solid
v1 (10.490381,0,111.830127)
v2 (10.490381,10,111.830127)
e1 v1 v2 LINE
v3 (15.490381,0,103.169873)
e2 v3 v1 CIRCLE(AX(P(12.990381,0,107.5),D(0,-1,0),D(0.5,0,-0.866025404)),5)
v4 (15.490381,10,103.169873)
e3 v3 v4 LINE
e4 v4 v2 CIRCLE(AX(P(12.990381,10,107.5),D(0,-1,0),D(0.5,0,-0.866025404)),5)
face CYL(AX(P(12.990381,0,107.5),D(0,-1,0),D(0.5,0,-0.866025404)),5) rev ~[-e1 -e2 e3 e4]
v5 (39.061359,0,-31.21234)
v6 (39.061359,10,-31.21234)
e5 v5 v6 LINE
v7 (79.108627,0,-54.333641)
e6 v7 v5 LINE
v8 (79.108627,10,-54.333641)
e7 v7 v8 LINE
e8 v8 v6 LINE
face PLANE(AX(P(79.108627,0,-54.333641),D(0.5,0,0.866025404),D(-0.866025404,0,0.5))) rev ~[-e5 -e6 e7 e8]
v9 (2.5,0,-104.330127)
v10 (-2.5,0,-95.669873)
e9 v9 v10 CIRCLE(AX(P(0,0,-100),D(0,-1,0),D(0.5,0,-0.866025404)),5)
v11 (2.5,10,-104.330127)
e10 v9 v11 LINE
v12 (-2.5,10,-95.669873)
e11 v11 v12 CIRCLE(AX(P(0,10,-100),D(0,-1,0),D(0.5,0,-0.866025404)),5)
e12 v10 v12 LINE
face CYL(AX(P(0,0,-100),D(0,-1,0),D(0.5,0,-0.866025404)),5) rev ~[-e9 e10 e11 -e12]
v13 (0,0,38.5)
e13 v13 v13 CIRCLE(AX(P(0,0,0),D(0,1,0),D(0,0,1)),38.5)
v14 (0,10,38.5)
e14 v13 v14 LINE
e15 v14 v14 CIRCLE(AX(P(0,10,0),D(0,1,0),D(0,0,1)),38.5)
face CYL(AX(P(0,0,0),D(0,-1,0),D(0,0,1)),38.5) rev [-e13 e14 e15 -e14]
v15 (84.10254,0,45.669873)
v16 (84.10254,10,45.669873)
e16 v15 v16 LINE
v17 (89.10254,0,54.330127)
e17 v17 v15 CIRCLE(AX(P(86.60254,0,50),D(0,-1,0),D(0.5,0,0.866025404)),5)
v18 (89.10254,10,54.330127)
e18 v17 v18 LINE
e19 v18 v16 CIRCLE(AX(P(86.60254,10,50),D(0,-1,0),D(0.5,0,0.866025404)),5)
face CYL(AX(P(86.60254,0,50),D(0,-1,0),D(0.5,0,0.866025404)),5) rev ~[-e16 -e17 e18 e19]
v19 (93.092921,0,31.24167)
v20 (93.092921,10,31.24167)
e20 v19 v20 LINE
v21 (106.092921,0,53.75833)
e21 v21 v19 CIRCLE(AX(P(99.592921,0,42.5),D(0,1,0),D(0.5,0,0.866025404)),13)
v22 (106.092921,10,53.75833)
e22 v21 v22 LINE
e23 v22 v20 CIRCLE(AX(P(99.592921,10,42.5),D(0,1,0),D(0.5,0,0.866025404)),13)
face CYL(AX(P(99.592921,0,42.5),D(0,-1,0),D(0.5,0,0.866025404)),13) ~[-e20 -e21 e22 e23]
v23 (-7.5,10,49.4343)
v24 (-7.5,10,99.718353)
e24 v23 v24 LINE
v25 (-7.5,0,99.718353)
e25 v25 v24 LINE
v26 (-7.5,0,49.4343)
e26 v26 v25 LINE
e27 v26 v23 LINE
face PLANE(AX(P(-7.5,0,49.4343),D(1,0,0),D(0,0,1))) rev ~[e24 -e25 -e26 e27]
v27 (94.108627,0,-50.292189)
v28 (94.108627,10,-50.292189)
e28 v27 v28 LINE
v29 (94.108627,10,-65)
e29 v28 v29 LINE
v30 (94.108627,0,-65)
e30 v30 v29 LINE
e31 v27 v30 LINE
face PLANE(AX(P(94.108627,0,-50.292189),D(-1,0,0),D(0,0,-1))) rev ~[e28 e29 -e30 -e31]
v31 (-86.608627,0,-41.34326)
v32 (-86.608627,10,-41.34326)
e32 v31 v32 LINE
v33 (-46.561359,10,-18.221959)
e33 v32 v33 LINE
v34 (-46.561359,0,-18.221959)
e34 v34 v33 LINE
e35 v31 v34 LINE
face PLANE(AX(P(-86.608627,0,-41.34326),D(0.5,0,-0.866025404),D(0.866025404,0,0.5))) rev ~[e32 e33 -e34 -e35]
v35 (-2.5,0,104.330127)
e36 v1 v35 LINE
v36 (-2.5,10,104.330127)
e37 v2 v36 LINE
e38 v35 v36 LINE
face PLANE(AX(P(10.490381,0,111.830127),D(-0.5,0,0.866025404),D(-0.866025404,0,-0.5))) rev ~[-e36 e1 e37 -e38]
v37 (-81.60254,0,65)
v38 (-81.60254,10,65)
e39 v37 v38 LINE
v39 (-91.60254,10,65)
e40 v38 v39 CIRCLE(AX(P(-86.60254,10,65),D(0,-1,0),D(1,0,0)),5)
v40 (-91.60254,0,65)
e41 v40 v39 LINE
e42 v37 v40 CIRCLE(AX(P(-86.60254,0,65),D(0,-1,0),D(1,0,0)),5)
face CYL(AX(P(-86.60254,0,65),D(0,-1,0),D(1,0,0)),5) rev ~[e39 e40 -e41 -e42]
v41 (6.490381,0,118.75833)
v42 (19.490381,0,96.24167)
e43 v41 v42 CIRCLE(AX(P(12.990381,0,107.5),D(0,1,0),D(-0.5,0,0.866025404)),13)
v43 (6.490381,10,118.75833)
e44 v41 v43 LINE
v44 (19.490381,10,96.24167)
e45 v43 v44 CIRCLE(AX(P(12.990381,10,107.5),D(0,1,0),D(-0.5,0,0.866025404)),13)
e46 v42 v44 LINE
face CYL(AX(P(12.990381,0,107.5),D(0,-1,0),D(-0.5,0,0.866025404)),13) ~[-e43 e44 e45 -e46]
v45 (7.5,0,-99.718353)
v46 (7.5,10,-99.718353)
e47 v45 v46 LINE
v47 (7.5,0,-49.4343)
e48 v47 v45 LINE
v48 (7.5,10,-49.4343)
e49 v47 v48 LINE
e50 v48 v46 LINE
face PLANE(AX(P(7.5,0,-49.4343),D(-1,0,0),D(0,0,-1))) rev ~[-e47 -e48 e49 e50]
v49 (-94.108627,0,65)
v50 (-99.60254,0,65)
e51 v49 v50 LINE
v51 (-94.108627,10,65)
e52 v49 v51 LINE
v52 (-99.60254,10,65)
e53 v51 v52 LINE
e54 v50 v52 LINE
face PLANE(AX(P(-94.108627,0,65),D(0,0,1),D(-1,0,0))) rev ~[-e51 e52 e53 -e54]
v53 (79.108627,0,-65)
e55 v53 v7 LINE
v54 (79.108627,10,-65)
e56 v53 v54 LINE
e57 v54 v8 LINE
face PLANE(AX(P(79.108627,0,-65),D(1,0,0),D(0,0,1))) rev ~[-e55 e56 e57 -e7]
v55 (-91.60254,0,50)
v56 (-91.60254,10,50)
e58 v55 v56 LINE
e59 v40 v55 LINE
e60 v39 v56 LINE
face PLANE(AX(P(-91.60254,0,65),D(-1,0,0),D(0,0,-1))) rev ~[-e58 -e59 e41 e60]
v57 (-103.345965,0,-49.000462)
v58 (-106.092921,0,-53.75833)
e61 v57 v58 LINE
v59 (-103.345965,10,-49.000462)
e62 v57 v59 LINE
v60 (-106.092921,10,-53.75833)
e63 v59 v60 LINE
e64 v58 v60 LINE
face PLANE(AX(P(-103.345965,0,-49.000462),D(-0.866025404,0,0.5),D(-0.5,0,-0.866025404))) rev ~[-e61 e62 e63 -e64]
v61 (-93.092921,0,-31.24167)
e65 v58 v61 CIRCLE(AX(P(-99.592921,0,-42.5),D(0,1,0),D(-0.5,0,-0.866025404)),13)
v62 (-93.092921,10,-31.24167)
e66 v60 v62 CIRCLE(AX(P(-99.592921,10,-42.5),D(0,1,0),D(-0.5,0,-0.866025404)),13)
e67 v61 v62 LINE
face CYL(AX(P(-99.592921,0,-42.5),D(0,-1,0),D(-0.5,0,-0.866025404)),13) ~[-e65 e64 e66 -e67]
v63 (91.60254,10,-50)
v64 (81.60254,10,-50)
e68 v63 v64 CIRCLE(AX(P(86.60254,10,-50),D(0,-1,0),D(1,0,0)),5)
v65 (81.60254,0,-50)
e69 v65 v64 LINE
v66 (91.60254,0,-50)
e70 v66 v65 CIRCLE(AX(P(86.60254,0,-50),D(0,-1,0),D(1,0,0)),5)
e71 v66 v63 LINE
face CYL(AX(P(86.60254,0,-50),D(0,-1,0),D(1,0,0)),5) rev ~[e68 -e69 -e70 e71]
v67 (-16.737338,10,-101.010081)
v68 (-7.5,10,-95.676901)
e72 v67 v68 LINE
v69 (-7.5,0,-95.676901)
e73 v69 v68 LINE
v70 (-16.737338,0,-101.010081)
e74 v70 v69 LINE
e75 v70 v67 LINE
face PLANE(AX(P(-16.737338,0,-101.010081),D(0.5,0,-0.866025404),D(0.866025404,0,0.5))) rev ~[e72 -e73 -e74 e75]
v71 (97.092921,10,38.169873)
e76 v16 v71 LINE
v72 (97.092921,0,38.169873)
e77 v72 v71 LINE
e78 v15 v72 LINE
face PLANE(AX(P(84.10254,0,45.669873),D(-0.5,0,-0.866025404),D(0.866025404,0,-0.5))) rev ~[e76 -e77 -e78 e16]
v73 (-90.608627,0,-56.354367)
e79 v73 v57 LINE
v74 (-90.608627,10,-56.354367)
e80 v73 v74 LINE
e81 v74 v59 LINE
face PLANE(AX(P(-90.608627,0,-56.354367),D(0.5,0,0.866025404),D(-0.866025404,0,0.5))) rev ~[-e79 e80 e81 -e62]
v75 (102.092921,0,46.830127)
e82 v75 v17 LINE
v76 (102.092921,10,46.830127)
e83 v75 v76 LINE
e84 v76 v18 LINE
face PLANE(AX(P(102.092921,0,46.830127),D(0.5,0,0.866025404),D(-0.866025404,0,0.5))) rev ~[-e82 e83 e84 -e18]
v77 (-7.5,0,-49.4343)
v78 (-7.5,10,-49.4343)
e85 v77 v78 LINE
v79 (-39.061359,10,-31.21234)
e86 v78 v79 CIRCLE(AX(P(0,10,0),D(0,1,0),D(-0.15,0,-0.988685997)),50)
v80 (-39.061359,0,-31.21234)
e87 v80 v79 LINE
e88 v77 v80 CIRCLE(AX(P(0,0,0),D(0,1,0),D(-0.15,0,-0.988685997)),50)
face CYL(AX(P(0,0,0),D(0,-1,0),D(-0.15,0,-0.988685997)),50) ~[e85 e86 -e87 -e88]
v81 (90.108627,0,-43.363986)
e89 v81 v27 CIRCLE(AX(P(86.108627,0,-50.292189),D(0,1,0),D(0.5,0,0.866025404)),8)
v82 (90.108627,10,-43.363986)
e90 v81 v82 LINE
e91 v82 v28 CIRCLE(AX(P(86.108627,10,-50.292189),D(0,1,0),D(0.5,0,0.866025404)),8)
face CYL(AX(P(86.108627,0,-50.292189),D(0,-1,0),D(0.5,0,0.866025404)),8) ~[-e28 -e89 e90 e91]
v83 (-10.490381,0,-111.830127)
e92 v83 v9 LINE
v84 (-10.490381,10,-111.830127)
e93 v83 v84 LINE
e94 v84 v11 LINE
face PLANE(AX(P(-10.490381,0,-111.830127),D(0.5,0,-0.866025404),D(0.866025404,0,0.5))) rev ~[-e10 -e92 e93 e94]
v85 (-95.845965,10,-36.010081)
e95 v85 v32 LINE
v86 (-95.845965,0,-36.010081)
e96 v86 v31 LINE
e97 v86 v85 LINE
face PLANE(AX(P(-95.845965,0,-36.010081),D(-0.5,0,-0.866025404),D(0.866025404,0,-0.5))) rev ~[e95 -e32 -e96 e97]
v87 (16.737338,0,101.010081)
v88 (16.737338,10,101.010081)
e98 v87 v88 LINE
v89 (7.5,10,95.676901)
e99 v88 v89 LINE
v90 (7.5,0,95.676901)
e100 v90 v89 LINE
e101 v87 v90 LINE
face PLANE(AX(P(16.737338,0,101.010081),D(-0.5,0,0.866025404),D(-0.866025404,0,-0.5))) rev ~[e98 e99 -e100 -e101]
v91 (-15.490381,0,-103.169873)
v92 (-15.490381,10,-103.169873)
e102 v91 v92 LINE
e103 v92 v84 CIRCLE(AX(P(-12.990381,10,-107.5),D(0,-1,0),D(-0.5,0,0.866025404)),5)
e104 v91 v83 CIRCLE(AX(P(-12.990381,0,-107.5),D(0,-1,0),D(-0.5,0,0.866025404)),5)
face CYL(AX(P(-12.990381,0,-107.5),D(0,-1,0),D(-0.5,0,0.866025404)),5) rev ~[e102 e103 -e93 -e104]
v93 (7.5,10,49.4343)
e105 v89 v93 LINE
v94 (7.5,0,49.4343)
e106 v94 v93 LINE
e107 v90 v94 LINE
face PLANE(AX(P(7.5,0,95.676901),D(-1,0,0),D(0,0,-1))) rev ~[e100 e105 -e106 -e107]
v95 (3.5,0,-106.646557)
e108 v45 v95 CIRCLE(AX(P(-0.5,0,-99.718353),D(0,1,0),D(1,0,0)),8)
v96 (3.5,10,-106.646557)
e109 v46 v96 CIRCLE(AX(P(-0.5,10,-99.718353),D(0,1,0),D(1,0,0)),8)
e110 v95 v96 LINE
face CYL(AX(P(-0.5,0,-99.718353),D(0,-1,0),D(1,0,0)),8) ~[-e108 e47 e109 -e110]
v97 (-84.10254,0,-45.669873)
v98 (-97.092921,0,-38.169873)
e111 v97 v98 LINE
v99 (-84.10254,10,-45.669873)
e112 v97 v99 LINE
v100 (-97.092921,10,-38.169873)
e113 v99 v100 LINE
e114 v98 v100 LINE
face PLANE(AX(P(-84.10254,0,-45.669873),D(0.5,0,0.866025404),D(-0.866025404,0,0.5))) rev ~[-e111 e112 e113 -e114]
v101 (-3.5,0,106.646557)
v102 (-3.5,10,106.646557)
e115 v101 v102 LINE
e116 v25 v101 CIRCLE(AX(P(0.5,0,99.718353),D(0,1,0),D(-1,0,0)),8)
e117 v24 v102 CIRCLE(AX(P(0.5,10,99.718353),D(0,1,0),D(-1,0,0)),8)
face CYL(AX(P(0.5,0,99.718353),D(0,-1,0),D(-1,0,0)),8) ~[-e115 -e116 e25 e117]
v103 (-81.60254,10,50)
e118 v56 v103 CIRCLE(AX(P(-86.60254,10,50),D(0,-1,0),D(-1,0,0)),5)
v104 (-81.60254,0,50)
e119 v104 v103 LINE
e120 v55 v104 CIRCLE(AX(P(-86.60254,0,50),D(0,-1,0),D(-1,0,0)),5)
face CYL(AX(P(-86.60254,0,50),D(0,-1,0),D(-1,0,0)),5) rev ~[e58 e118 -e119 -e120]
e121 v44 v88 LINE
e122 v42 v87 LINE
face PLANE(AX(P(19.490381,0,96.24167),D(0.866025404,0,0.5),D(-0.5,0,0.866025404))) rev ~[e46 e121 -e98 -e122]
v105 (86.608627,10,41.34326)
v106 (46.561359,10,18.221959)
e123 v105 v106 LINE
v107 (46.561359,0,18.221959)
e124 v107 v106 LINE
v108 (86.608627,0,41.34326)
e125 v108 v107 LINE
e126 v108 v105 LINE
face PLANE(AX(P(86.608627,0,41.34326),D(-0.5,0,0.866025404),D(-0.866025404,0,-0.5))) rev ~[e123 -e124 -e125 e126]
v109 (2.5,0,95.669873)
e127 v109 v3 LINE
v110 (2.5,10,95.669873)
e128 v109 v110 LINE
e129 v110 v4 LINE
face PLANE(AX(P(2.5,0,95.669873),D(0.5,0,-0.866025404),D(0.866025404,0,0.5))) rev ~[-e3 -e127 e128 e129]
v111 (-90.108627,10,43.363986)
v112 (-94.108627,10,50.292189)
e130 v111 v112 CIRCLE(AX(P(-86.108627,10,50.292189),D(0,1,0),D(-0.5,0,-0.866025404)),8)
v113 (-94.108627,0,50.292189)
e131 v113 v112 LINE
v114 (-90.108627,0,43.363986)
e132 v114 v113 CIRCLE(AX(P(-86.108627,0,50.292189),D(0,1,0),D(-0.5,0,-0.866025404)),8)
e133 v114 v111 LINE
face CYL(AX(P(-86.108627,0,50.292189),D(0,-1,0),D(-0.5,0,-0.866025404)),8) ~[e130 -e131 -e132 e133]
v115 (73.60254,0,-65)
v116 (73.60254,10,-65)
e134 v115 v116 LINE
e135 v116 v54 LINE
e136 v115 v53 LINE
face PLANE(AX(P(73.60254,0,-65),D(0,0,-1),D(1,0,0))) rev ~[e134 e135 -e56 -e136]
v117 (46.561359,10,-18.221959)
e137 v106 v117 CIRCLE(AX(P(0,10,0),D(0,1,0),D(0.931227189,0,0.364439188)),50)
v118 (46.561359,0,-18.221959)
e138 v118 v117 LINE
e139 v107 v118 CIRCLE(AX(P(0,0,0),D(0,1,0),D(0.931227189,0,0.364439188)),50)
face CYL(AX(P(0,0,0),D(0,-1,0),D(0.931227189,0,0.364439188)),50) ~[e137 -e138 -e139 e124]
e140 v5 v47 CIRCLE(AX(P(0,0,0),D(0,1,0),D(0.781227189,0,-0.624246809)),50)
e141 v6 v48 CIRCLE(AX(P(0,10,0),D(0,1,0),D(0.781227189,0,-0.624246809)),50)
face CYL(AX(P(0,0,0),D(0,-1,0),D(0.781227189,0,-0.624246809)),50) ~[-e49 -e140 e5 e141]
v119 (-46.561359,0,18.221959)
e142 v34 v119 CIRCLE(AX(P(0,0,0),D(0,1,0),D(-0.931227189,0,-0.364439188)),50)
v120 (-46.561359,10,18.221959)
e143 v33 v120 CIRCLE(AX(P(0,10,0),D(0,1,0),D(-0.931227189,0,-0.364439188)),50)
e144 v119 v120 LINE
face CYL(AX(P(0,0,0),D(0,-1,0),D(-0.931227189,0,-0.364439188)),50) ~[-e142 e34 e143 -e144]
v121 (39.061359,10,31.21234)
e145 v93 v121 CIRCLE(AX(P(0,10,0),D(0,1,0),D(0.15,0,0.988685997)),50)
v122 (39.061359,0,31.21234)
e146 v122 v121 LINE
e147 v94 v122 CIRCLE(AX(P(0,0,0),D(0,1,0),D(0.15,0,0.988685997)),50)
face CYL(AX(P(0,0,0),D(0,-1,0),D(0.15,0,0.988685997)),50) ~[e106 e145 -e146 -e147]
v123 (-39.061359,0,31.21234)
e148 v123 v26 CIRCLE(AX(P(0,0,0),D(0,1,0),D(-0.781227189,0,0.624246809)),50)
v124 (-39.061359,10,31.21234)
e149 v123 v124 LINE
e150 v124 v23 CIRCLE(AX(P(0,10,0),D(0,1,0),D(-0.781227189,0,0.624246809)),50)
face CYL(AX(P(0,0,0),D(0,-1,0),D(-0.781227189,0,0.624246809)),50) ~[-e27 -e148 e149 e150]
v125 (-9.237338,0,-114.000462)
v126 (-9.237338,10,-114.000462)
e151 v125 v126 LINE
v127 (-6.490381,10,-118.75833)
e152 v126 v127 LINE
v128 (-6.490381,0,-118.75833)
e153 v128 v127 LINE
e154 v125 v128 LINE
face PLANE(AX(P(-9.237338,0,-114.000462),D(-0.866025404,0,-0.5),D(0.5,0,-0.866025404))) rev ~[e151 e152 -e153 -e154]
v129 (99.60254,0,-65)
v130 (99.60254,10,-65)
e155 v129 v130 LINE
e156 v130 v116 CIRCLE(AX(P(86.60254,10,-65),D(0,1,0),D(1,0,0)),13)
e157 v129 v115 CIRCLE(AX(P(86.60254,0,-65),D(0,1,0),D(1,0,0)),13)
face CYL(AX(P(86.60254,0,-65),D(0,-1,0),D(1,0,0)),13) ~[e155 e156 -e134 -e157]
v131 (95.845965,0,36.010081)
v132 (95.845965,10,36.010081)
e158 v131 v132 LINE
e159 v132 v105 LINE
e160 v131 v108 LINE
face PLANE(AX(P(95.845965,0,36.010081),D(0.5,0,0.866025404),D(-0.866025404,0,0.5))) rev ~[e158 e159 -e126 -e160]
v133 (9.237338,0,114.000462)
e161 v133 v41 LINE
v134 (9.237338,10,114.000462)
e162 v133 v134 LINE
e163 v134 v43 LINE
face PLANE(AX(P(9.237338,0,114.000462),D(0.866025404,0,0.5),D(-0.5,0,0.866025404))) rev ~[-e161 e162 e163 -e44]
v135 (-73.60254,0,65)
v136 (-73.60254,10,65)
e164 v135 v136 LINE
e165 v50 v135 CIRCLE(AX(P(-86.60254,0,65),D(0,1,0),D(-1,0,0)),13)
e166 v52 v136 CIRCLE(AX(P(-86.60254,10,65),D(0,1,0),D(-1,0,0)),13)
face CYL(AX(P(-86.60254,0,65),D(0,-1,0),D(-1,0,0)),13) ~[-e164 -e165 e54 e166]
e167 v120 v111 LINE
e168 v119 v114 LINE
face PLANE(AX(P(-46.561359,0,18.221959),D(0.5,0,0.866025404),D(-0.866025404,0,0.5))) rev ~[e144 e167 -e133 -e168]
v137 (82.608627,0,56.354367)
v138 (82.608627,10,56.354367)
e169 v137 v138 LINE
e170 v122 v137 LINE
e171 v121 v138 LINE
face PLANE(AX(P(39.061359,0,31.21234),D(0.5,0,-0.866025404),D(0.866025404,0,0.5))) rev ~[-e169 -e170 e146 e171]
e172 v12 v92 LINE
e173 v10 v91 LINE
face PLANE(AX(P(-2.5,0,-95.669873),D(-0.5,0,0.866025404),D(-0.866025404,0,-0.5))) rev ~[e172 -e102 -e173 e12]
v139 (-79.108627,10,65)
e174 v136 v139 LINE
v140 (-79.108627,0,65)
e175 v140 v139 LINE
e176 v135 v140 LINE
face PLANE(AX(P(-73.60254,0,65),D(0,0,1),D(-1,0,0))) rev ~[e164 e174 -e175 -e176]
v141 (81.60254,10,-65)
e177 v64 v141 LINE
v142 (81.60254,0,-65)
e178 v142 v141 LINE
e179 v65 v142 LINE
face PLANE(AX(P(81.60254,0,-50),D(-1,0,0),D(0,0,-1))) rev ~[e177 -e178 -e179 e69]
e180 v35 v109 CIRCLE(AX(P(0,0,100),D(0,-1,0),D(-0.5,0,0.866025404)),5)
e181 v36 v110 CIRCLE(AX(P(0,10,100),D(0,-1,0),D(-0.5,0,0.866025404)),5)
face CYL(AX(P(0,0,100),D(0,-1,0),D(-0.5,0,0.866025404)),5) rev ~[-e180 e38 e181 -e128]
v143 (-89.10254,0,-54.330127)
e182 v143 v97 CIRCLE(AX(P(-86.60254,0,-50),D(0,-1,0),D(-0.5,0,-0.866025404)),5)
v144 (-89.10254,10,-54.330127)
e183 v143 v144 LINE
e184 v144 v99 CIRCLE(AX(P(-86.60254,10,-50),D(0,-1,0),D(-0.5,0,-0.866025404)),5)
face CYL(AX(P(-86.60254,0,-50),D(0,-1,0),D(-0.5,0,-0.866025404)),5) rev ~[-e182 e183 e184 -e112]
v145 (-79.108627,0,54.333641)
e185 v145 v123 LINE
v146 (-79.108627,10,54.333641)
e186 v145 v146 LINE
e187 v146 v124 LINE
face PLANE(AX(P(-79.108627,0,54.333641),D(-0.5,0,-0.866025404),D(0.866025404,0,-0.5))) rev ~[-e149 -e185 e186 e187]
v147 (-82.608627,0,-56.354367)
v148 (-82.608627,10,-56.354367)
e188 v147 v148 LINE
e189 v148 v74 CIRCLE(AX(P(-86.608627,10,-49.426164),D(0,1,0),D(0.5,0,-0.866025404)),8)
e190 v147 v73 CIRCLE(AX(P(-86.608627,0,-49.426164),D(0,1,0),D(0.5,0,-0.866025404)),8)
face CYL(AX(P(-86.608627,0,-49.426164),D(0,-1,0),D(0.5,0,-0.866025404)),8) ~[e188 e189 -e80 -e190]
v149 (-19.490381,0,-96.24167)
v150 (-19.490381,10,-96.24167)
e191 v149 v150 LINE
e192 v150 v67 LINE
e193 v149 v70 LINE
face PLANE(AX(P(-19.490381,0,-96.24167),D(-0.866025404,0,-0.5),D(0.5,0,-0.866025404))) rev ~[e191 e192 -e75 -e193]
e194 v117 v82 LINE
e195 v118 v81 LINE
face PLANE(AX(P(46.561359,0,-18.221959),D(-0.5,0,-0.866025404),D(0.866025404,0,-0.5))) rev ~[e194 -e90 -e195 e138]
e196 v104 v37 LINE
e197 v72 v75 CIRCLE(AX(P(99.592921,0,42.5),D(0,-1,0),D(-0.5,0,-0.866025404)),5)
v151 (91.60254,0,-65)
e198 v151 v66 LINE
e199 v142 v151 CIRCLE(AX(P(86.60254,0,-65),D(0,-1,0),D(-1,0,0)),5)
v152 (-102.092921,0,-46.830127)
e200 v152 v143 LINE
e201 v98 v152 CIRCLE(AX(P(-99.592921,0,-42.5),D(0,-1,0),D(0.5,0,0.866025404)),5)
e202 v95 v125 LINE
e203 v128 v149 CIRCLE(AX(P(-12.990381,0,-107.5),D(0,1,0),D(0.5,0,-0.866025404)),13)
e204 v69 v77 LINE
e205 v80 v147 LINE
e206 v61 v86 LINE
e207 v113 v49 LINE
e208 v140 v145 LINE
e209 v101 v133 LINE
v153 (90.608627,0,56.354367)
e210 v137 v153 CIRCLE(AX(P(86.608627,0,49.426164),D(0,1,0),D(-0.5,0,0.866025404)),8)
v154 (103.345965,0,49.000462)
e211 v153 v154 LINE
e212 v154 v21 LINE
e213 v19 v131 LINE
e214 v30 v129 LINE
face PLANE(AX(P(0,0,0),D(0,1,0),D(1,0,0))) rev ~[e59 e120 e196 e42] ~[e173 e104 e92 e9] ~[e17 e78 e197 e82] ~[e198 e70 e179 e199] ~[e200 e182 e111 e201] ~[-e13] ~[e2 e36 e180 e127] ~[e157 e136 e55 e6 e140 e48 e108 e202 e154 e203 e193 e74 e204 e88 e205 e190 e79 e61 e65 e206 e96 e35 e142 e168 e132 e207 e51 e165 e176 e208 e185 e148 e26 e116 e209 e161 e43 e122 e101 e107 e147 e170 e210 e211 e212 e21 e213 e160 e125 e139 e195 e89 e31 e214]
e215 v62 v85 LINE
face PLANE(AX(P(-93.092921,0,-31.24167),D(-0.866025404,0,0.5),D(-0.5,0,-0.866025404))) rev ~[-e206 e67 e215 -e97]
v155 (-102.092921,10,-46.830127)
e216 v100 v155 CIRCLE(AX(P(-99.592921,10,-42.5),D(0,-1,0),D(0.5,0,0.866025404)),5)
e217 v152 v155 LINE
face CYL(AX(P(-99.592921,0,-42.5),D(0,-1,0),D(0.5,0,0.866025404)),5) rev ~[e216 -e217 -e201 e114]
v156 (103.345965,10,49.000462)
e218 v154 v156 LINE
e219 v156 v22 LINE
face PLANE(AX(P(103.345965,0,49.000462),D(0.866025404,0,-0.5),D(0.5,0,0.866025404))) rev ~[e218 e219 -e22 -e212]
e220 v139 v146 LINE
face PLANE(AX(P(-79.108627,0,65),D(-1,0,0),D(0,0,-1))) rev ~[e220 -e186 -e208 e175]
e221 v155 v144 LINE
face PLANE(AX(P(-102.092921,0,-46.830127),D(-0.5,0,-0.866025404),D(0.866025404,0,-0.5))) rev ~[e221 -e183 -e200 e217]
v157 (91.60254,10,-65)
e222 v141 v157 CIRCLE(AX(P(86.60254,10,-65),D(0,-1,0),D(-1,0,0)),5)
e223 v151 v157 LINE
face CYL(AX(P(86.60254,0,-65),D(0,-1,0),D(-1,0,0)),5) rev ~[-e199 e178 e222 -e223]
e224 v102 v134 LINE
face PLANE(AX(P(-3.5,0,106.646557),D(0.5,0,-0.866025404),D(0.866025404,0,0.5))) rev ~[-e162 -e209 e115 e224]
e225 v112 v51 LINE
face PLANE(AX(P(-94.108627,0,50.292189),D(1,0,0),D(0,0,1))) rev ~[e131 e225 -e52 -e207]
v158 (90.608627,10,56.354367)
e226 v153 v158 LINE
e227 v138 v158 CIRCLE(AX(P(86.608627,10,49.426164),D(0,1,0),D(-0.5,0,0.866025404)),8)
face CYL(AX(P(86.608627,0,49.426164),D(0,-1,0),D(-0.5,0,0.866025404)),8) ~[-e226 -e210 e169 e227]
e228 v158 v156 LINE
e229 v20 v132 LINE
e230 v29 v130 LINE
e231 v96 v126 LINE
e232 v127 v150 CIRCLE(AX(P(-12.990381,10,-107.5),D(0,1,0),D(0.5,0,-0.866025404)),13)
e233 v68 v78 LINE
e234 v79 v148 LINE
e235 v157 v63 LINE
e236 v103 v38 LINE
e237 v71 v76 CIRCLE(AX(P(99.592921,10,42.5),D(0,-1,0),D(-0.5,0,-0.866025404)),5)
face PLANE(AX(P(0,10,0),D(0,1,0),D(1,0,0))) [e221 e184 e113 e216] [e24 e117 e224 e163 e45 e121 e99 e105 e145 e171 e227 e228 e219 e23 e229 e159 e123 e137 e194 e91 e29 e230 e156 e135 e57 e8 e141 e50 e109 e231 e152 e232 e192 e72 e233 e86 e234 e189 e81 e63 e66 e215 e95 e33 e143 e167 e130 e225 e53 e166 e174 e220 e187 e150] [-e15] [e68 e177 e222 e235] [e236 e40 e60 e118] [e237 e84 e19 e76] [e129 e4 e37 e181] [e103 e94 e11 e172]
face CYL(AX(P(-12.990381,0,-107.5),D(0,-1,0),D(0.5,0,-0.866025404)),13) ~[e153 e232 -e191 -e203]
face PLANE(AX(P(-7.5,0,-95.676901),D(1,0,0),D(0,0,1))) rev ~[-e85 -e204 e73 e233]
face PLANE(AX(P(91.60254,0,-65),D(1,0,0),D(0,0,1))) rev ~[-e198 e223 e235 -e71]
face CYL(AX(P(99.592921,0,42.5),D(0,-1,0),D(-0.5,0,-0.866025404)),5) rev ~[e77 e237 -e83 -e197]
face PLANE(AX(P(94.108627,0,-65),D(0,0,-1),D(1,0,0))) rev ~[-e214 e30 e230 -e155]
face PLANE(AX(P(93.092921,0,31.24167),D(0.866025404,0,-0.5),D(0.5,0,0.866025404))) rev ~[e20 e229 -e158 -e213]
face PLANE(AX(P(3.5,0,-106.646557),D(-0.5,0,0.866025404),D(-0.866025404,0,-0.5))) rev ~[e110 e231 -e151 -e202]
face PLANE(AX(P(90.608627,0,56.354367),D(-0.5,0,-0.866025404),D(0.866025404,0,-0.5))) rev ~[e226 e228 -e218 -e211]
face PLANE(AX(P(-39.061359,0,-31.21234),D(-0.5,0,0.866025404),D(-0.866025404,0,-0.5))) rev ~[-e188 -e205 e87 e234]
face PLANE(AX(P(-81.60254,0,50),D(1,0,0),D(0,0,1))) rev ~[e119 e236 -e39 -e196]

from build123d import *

# Parameters (mm, degrees)
SKETCH1_R           = 38.5
BOSS_EXTRUDE1_DEPTH = 10


with BuildPart() as part:
    # Sketch1 → Boss-Extrude1 (new body)
    with BuildSketch(Plane(origin=(0, 0, 0), x_dir=(1, 0, 0), z_dir=(0, 1, 0))):
        with BuildLine():
            Line((7.5, 49.434299833), (7.5, 99.718353376))
            ThreePointArc((7.5, 99.718353376), (6.42820323, 103.718353376), (3.5, 106.646556606))
            Line((3.5, 106.646556606), (-9.237337622, 114.000461911))
            Line((-9.237337622, 114.000461911), (-6.490381057, 118.758330249))
            ThreePointArc((-6.490381057, 118.758330249), (-24.248711306, 114), (-19.490381057, 96.241669751))
            Line((-19.490381057, 96.241669751), (-16.737337622, 101.010080854))
            Line((-16.737337622, 101.010080854), (-7.5, 95.676901492))
            Line((-7.5, 95.676901492), (-7.5, 49.434299833))
            ThreePointArc((-7.5, 49.434299833), (-25, 43.301270189), (-39.061359474, 31.212340445))
            Line((-39.061359474, 31.212340445), (-82.608627247, 56.354367216))
            ThreePointArc((-82.608627247, 56.354367216), (-86.608627247, 57.426163986), (-90.608627247, 56.354367216))
            Line((-90.608627247, 56.354367216), (-103.34596487, 49.000461911))
            Line((-103.34596487, 49.000461911), (-106.092921435, 53.758330249))
            ThreePointArc((-106.092921435, 53.758330249), (-110.851251684, 36), (-93.092921435, 31.241669751))
            Line((-93.092921435, 31.241669751), (-95.84596487, 36.010080854))
            Line((-95.84596487, 36.010080854), (-86.608627247, 41.343260217))
            Line((-86.608627247, 41.343260217), (-46.561359474, 18.221959388))
            ThreePointArc((-46.561359474, 18.221959388), (-50, 0), (-46.561359474, -18.221959388))
            Line((-46.561359474, -18.221959388), (-90.108627247, -43.36398616))
            ThreePointArc((-90.108627247, -43.36398616), (-93.036830477, -46.29218939), (-94.108627247, -50.29218939))
            Line((-94.108627247, -50.29218939), (-94.108627247, -65))
            Line((-94.108627247, -65), (-99.602540378, -65))
            ThreePointArc((-99.602540378, -65), (-86.602540378, -78), (-73.602540378, -65))
            Line((-73.602540378, -65), (-79.108627247, -65))
            Line((-79.108627247, -65), (-79.108627247, -54.333641274))
            Line((-79.108627247, -54.333641274), (-39.061359474, -31.212340445))
            ThreePointArc((-39.061359474, -31.212340445), (-25, -43.301270189), (-7.5, -49.434299833))
            Line((-7.5, -49.434299833), (-7.5, -99.718353376))
            ThreePointArc((-7.5, -99.718353376), (-6.42820323, -103.718353376), (-3.5, -106.646556606))
            Line((-3.5, -106.646556606), (9.237337622, -114.000461911))
            Line((9.237337622, -114.000461911), (6.490381057, -118.758330249))
            ThreePointArc((6.490381057, -118.758330249), (24.248711306, -114), (19.490381057, -96.241669751))
            Line((19.490381057, -96.241669751), (16.737337622, -101.010080854))
            Line((16.737337622, -101.010080854), (7.5, -95.676901492))
            Line((7.5, -95.676901492), (7.5, -49.434299833))
            ThreePointArc((7.5, -49.434299833), (25, -43.301270189), (39.061359474, -31.212340445))
            Line((39.061359474, -31.212340445), (82.608627247, -56.354367216))
            ThreePointArc((82.608627247, -56.354367216), (86.608627247, -57.426163986), (90.608627247, -56.354367216))
            Line((90.608627247, -56.354367216), (103.34596487, -49.000461911))
            Line((103.34596487, -49.000461911), (106.092921435, -53.758330249))
            ThreePointArc((106.092921435, -53.758330249), (110.851251684, -36), (93.092921435, -31.241669751))
            Line((93.092921435, -31.241669751), (95.84596487, -36.010080854))
            Line((95.84596487, -36.010080854), (86.608627247, -41.343260217))
            Line((86.608627247, -41.343260217), (46.561359474, -18.221959388))
            ThreePointArc((46.561359474, -18.221959388), (50, 0), (46.561359474, 18.221959388))
            Line((46.561359474, 18.221959388), (90.108627247, 43.36398616))
            ThreePointArc((90.108627247, 43.36398616), (93.036830477, 46.29218939), (94.108627247, 50.29218939))
            Line((94.108627247, 50.29218939), (94.108627247, 65))
            Line((94.108627247, 65), (99.602540378, 65))
            ThreePointArc((99.602540378, 65), (86.602540378, 78), (73.602540378, 65))
            Line((73.602540378, 65), (79.108627247, 65))
            Line((79.108627247, 65), (79.108627247, 54.333641274))
            Line((79.108627247, 54.333641274), (39.061359474, 31.212340445))
            ThreePointArc((39.061359474, 31.212340445), (25, 43.301270189), (7.5, 49.434299833))
        make_face()
        with Locations(Location((0, 0, 0), (0, 0, 270))):
            Circle(SKETCH1_R, mode=Mode.SUBTRACT)
        with BuildLine():
            Line((-10.490381057, 111.830127019), (2.5, 104.330127019))
            ThreePointArc((2.5, 104.330127019), (4.330127019, 97.5), (-2.5, 95.669872981))
            Line((-2.5, 95.669872981), (-15.490381057, 103.169872981))
            ThreePointArc((-15.490381057, 103.169872981), (-17.320508076, 110), (-10.490381057, 111.830127019))
        make_face(mode=Mode.SUBTRACT)
        with BuildLine():
            Line((91.602540378, 65), (91.602540378, 50))
            ThreePointArc((91.602540378, 50), (86.602540378, 45), (81.602540378, 50))
            Line((81.602540378, 50), (81.602540378, 65))
            ThreePointArc((81.602540378, 65), (86.602540378, 70), (91.602540378, 65))
        make_face(mode=Mode.SUBTRACT)
        with BuildLine():
            Line((102.092921435, -46.830127019), (89.102540378, -54.330127019))
            ThreePointArc((89.102540378, -54.330127019), (82.27241336, -52.5), (84.102540378, -45.669872981))
            Line((84.102540378, -45.669872981), (97.092921435, -38.169872981))
            ThreePointArc((97.092921435, -38.169872981), (103.923048454, -40), (102.092921435, -46.830127019))
        make_face(mode=Mode.SUBTRACT)
        with BuildLine():
            Line((10.490381057, -111.830127019), (-2.5, -104.330127019))
            ThreePointArc((-2.5, -104.330127019), (-4.330127019, -97.5), (2.5, -95.669872981))
            Line((2.5, -95.669872981), (15.490381057, -103.169872981))
            ThreePointArc((15.490381057, -103.169872981), (17.320508076, -110), (10.490381057, -111.830127019))
        make_face(mode=Mode.SUBTRACT)
        with BuildLine():
            Line((-91.602540378, -65), (-91.602540378, -50))
            ThreePointArc((-91.602540378, -50), (-86.602540378, -45), (-81.602540378, -50))
            Line((-81.602540378, -50), (-81.602540378, -65))
            ThreePointArc((-81.602540378, -65), (-86.602540378, -70), (-91.602540378, -65))
        make_face(mode=Mode.SUBTRACT)
        with BuildLine():
            Line((-102.092921435, 46.830127019), (-89.102540378, 54.330127019))
            ThreePointArc((-89.102540378, 54.330127019), (-82.27241336, 52.5), (-84.102540378, 45.669872981))
            Line((-84.102540378, 45.669872981), (-97.092921435, 38.169872981))
            ThreePointArc((-97.092921435, 38.169872981), (-103.923048454, 40), (-102.092921435, 46.830127019))
        make_face(mode=Mode.SUBTRACT)
    extrude(amount=BOSS_EXTRUDE1_DEPTH)


solid = part.part
